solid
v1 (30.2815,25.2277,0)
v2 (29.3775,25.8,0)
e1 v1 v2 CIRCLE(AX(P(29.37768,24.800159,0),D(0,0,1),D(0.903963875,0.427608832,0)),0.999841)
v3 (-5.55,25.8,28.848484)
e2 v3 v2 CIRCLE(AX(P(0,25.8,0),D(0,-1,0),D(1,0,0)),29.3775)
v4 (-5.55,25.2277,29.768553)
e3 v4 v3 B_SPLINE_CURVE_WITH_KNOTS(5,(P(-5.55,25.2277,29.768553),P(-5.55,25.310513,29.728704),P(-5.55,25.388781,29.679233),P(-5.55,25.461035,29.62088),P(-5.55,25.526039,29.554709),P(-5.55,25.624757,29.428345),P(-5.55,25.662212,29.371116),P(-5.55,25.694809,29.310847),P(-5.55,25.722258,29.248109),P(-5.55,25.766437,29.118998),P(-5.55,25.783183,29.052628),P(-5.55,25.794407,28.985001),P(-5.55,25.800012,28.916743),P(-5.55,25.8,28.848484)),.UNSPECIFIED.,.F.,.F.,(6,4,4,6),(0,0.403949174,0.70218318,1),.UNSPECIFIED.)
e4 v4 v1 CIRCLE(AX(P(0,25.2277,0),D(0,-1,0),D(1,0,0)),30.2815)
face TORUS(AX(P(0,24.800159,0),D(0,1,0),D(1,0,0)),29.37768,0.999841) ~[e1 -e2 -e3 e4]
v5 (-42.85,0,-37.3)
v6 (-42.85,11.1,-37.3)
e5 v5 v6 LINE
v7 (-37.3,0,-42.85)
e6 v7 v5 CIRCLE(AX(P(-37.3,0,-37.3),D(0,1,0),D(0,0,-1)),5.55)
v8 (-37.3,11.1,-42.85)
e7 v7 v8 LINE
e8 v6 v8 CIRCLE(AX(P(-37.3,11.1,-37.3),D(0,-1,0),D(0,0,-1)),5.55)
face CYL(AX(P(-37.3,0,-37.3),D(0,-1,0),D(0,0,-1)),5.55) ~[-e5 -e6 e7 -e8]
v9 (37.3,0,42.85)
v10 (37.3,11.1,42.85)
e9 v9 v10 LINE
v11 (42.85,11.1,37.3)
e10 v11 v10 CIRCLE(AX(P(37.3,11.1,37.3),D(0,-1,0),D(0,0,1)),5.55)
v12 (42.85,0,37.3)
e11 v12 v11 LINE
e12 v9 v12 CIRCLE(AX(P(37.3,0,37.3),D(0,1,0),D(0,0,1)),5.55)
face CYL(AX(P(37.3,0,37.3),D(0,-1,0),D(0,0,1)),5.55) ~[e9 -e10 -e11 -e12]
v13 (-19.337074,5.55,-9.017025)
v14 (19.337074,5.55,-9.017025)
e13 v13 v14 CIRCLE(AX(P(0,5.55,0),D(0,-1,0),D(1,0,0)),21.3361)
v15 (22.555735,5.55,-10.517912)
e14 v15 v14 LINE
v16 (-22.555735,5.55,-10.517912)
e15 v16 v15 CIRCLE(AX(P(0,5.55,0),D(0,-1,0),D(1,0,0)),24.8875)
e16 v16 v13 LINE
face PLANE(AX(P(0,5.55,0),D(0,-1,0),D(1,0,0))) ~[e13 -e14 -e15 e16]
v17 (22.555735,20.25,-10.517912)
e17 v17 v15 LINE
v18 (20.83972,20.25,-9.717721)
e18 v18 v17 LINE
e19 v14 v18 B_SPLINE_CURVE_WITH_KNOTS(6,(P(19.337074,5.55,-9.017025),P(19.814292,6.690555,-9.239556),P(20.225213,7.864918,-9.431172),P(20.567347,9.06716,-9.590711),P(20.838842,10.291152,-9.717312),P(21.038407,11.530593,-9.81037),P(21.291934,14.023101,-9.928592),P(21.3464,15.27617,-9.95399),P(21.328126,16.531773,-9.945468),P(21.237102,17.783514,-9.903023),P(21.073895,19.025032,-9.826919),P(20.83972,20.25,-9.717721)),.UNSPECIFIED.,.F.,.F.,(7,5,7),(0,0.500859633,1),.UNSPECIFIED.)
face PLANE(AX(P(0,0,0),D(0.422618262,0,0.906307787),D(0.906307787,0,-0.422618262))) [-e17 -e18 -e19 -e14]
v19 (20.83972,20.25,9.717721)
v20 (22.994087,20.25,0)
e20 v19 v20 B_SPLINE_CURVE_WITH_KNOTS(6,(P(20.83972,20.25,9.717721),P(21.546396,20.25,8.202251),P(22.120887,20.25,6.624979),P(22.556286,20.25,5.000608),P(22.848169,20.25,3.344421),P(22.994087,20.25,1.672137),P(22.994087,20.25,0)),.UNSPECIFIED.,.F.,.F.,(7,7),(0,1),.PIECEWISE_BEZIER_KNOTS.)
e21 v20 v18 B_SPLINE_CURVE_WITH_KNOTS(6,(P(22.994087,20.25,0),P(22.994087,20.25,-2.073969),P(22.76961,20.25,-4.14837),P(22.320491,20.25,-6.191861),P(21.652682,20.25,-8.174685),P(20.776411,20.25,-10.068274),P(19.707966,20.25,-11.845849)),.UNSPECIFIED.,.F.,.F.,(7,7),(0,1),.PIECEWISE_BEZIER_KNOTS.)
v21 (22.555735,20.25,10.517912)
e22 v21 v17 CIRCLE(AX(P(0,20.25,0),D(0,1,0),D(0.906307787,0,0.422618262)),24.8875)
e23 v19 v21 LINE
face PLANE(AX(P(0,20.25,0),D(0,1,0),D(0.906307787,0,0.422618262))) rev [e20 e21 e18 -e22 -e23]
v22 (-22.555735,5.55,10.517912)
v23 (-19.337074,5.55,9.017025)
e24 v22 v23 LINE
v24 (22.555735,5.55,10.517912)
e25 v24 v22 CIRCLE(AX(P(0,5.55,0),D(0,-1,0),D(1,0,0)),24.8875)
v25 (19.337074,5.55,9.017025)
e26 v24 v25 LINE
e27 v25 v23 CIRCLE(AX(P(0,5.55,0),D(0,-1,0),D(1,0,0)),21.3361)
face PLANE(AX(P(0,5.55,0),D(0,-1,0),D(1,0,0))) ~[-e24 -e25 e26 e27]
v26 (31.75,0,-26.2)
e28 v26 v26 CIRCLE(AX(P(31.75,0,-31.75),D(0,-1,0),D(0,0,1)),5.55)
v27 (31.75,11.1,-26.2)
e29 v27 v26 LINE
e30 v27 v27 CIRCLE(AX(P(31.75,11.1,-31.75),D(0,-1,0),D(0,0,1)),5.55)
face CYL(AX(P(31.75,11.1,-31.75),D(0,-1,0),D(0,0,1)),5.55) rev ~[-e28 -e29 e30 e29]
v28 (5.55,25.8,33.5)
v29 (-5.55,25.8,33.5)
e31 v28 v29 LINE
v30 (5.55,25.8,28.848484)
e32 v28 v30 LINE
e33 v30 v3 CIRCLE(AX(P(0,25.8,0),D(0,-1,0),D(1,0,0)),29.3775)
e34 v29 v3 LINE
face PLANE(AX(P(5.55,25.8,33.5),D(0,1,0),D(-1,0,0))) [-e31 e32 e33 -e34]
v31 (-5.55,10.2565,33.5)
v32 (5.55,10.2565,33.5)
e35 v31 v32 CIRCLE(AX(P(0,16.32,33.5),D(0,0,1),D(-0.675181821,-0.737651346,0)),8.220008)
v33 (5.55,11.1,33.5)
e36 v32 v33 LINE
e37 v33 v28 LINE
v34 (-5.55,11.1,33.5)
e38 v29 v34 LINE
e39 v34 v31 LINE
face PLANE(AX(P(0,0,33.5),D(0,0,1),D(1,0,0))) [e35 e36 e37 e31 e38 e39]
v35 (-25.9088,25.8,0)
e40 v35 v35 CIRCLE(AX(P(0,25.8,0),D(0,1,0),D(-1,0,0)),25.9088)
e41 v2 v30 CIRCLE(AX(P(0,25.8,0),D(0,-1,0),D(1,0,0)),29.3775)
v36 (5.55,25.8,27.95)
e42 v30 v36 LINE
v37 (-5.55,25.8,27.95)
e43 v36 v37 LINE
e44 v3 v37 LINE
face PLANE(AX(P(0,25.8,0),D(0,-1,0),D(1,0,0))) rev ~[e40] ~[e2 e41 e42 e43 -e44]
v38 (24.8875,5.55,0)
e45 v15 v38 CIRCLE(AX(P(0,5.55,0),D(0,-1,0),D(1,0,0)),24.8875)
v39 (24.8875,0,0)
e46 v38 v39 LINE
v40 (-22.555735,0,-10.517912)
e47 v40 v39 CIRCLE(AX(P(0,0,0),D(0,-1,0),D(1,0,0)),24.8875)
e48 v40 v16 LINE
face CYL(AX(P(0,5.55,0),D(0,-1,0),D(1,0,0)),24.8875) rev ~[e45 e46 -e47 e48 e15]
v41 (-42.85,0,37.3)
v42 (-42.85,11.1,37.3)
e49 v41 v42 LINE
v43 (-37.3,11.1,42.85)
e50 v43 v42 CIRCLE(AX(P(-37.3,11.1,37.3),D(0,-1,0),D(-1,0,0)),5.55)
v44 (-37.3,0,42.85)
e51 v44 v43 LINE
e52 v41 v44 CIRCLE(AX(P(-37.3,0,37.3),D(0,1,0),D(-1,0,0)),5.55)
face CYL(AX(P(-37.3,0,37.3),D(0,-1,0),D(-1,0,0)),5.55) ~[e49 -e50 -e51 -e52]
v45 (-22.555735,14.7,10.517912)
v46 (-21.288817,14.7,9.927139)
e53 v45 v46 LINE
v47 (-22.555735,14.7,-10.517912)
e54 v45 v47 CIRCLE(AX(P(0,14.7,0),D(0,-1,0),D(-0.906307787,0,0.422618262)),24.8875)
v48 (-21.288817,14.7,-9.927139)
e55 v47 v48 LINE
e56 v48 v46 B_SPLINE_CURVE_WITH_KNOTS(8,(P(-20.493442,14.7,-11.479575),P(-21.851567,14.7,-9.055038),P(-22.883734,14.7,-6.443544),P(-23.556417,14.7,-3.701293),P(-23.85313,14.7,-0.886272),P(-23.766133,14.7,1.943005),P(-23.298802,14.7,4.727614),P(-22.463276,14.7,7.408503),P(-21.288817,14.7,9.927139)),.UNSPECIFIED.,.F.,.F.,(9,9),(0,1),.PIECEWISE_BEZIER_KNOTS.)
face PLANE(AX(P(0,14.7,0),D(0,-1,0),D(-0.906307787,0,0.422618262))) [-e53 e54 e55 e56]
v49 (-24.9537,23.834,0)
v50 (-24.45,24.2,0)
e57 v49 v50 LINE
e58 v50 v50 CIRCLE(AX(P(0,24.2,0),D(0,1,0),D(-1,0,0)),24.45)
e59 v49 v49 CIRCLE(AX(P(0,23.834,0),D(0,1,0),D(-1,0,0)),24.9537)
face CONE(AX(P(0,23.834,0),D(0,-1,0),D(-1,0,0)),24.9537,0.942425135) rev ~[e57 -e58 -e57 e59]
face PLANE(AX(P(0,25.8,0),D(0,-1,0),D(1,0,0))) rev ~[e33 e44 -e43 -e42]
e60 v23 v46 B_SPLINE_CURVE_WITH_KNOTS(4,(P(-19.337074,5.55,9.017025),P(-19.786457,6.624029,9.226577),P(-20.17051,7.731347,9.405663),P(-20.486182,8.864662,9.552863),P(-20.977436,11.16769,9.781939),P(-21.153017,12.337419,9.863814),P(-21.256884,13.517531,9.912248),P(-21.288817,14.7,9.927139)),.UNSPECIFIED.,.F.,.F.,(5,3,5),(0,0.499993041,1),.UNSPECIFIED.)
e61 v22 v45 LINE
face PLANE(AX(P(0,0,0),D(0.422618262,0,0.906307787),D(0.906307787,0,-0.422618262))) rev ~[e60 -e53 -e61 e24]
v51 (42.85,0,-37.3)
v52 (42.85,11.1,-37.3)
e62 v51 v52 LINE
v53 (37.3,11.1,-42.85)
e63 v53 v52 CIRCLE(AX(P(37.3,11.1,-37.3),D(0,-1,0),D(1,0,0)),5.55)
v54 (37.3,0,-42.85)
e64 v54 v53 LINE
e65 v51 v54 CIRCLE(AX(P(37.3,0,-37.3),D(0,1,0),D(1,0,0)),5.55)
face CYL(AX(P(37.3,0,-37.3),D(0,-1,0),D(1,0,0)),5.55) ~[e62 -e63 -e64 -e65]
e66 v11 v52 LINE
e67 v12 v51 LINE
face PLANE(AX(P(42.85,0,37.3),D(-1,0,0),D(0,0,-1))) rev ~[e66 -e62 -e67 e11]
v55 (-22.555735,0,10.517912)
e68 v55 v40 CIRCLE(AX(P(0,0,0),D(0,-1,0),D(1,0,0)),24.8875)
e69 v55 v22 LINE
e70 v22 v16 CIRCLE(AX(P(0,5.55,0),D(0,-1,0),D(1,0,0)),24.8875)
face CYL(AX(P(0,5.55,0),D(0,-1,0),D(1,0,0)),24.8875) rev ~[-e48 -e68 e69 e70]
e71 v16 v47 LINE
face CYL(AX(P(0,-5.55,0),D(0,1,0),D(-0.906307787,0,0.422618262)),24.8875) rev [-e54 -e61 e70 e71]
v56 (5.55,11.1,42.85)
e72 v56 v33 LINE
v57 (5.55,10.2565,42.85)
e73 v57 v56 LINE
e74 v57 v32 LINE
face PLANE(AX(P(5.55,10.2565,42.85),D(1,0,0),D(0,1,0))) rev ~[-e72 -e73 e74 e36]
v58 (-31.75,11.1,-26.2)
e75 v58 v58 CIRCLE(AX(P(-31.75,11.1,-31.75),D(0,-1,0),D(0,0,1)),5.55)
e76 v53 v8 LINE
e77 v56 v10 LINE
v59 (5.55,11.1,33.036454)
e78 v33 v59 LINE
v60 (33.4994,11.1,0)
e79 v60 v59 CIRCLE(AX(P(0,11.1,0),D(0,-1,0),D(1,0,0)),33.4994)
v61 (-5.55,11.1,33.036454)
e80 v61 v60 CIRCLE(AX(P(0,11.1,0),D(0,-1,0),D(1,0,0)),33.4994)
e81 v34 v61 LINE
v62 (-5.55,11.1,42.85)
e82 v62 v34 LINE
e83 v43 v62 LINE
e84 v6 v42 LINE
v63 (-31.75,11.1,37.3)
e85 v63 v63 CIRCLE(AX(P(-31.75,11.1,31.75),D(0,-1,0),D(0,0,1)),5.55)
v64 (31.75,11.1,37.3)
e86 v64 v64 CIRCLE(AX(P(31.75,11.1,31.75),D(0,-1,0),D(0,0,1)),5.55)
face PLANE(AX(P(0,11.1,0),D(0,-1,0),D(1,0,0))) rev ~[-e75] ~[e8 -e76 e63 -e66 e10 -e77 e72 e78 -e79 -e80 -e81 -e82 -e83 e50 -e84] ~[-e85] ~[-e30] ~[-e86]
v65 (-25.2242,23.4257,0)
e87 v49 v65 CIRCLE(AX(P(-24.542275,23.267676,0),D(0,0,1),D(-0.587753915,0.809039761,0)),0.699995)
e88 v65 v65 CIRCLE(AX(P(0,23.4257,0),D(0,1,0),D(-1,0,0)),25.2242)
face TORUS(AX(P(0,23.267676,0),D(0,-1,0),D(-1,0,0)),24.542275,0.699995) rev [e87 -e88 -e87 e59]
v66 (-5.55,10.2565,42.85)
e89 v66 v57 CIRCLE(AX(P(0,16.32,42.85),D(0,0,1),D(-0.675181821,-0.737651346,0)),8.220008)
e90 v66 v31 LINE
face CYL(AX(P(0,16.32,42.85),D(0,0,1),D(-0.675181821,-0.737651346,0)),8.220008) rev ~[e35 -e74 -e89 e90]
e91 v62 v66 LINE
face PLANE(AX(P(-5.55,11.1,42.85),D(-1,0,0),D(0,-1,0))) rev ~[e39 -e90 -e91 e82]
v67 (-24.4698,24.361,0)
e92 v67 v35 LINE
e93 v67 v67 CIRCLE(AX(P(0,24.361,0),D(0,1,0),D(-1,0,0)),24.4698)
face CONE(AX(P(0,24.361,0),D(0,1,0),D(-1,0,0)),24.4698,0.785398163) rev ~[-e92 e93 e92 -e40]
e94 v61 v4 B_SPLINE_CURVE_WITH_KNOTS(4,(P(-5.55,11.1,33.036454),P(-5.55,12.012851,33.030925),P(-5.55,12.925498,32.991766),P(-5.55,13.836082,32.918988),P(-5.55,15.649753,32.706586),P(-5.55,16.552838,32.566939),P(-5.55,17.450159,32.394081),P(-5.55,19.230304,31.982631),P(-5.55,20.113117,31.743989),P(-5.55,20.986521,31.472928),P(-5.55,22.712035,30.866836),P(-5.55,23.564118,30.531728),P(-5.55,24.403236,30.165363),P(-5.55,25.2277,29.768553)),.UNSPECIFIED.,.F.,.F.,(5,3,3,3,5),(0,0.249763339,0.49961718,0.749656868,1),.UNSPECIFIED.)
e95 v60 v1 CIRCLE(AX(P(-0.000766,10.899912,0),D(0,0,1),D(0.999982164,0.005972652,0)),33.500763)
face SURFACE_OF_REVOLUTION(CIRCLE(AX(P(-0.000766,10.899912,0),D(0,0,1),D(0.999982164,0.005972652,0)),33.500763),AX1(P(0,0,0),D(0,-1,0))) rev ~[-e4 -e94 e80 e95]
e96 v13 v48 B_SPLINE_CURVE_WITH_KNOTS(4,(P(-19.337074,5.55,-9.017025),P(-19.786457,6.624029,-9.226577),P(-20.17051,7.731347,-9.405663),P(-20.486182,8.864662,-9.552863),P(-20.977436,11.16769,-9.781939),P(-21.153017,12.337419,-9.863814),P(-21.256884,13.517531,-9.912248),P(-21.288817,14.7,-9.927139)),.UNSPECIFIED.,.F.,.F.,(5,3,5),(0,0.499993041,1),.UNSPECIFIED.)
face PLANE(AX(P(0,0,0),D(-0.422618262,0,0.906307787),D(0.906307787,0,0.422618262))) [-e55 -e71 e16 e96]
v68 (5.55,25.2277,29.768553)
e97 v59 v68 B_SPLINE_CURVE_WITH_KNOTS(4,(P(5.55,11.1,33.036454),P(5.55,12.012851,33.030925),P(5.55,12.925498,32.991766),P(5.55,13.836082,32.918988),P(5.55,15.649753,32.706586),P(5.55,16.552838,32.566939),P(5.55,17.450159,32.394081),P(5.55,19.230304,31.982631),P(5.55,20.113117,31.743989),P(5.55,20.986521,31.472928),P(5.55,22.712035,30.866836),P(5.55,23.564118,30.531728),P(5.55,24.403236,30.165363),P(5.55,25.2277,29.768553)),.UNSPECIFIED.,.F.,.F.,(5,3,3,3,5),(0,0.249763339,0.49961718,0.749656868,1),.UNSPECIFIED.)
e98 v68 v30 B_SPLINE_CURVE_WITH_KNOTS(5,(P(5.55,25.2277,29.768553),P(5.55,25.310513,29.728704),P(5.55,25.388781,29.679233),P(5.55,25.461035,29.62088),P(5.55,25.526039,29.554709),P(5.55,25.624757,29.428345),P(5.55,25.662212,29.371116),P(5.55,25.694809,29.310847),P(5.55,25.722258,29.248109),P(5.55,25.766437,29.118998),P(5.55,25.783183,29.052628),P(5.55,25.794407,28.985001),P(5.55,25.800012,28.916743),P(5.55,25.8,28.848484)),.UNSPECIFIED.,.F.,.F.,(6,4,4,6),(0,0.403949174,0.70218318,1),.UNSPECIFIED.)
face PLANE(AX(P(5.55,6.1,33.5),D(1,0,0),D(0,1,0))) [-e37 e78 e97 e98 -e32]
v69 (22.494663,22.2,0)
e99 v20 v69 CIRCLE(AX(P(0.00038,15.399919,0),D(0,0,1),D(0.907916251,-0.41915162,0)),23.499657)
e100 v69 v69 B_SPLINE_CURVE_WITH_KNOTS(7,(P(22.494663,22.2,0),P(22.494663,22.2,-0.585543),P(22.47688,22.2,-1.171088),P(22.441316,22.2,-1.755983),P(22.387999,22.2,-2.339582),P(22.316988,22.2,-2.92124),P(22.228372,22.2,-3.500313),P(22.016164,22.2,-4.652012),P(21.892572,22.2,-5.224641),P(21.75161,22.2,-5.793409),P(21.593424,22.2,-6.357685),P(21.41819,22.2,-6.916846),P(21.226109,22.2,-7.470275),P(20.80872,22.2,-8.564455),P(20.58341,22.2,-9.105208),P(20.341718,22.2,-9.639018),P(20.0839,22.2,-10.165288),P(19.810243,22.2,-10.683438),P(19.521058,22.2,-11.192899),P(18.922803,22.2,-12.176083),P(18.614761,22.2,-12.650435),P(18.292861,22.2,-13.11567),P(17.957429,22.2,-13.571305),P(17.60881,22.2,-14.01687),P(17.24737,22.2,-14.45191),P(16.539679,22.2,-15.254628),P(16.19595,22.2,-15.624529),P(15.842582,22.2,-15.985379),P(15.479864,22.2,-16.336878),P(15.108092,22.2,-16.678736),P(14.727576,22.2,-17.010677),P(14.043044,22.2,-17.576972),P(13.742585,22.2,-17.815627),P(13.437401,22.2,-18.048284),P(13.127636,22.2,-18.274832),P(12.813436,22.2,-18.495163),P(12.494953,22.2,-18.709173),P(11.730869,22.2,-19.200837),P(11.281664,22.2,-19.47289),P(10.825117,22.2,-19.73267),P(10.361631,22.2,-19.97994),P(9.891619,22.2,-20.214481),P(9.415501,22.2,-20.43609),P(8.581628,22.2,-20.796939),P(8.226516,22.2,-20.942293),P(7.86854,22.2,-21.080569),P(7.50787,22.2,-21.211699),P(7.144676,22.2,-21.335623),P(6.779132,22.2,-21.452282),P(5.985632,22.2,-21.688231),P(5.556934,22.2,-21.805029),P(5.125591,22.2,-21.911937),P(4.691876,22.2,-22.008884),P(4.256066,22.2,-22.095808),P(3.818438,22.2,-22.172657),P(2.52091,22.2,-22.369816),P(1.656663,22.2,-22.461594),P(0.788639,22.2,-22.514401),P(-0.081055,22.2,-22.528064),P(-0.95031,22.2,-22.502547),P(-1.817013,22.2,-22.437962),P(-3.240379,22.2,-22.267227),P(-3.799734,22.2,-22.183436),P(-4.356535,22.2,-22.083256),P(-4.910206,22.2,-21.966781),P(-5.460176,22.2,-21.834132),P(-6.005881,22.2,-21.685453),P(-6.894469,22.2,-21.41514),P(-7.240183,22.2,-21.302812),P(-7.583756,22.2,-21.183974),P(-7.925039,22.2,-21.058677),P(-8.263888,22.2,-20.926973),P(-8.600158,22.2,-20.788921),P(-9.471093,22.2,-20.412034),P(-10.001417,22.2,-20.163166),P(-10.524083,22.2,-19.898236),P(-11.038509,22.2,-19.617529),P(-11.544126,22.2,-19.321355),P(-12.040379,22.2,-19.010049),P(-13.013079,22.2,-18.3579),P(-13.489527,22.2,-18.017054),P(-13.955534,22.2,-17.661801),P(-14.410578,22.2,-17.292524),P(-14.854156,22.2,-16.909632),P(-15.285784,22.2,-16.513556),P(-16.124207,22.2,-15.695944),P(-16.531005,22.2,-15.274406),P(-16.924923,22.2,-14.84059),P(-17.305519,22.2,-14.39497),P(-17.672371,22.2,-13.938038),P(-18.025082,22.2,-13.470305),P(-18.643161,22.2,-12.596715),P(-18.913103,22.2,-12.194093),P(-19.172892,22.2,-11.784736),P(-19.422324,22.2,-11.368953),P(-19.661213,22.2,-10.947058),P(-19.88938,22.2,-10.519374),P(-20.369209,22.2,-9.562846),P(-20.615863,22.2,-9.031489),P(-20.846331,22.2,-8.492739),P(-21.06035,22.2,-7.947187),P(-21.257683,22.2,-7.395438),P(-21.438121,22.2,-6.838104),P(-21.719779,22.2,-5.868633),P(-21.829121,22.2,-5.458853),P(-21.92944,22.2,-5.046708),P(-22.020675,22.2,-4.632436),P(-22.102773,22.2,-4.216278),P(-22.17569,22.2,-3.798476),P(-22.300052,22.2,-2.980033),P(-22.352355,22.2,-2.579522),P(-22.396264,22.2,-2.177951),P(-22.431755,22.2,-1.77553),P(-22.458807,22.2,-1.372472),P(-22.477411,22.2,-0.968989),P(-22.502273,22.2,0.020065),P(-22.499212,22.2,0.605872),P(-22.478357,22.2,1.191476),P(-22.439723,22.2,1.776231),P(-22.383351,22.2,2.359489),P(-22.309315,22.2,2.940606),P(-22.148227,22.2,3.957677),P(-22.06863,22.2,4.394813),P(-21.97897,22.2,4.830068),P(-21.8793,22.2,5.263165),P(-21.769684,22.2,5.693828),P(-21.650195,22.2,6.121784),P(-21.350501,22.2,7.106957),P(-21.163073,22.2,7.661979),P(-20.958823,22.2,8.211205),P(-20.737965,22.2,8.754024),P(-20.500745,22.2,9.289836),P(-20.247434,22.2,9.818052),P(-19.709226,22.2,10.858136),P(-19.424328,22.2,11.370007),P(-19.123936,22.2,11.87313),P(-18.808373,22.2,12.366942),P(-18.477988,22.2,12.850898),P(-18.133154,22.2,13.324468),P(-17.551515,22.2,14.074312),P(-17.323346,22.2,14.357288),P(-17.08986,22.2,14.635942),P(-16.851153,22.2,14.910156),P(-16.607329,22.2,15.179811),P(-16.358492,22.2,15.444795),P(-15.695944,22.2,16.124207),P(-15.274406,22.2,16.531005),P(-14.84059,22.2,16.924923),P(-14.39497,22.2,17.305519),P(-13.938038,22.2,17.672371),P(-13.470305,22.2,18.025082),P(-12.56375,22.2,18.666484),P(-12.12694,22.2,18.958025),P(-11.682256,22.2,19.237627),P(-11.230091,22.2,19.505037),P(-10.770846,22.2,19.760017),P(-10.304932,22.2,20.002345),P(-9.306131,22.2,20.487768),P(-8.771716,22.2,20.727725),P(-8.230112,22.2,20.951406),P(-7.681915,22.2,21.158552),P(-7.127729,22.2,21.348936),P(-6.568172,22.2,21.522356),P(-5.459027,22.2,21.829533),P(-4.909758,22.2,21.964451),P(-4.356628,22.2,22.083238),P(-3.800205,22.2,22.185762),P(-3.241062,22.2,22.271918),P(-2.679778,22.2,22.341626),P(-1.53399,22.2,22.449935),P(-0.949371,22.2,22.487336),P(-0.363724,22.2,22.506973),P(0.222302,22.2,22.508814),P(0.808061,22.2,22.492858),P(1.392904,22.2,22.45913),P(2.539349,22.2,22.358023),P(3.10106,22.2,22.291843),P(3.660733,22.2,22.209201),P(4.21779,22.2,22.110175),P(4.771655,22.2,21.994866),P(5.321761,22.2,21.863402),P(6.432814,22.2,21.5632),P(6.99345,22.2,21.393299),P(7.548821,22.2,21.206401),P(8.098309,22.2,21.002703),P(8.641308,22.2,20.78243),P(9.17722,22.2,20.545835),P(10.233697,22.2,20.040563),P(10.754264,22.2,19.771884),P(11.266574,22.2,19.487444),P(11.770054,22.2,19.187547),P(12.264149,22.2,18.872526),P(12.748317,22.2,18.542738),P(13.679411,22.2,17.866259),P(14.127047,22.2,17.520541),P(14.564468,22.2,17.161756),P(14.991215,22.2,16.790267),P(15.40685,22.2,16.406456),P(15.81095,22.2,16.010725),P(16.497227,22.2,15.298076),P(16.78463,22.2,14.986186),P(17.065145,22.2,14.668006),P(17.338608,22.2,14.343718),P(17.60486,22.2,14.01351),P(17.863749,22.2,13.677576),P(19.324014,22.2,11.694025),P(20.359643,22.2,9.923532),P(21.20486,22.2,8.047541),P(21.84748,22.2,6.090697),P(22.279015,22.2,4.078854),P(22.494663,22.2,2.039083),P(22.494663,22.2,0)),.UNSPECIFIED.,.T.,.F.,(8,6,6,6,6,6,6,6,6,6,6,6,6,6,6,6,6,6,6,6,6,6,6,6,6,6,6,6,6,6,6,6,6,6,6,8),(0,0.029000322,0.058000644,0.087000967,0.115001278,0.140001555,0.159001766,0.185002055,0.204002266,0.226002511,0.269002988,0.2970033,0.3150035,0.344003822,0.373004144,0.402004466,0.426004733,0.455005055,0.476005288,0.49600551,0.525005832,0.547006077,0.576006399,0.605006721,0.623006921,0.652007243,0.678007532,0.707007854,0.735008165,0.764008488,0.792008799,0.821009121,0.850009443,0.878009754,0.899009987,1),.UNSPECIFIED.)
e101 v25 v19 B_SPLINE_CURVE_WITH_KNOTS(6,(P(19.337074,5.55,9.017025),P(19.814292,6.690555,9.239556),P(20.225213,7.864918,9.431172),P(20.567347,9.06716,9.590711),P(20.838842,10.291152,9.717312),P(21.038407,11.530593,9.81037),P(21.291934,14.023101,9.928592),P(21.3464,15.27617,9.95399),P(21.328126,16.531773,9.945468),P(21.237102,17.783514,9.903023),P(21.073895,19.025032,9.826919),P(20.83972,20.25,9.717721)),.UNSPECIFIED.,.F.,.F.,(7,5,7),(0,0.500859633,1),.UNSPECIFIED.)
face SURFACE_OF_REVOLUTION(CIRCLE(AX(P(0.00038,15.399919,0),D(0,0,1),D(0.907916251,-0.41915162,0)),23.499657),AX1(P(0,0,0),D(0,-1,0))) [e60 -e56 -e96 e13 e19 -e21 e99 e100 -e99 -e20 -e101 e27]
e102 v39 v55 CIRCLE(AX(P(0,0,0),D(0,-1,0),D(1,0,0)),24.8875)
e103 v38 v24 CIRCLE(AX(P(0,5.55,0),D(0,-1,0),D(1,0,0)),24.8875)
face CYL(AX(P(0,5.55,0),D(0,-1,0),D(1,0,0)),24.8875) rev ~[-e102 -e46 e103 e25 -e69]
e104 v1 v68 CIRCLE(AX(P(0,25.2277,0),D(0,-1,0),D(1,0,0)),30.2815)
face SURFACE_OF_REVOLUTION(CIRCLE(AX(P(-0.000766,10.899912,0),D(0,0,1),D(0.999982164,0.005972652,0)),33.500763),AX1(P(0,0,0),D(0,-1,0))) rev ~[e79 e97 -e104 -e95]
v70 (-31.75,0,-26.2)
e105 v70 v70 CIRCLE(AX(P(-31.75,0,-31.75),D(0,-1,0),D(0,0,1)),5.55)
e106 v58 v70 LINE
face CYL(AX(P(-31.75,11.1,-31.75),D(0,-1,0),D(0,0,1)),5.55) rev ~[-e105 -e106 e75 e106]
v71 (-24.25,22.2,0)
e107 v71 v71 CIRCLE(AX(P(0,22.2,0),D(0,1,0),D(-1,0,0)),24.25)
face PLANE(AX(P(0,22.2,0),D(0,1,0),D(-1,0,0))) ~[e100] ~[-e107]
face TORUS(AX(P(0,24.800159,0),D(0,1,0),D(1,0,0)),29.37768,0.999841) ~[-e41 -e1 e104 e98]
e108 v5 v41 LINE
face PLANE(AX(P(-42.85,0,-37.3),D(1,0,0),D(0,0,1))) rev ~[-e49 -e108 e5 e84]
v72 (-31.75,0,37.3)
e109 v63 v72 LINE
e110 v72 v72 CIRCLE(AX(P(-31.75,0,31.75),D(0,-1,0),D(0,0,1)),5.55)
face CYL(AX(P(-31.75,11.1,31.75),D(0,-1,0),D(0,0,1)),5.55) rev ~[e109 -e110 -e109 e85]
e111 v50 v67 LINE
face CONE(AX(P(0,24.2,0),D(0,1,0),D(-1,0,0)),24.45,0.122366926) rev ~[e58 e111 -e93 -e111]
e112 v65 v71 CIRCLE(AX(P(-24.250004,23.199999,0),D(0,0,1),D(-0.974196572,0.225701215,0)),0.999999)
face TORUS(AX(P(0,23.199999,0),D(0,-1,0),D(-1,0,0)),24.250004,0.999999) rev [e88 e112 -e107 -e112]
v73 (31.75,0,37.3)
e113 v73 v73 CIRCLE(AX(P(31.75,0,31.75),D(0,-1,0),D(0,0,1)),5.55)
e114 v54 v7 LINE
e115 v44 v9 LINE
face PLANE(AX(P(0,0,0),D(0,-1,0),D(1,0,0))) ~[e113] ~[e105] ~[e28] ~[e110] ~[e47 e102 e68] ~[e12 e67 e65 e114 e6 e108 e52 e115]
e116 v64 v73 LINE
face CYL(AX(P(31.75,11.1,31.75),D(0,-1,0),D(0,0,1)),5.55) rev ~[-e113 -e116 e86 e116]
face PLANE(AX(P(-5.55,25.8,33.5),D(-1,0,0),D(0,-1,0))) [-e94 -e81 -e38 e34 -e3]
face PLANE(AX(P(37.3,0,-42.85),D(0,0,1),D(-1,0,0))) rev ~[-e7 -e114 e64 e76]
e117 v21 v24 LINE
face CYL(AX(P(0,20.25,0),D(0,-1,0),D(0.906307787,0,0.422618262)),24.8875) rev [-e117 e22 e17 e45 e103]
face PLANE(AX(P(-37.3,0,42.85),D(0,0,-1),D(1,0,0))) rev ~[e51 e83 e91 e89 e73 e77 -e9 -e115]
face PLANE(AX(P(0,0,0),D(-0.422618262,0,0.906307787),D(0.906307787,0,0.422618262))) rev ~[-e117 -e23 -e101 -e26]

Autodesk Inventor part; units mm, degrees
sketch "Sketch_1" plane through (0, 0, 0) normal (0, 0, 1) x (1, 0, 0)
  line L0 (0, 0) -> (0, 25.8)
  arc A0 (21.3361, 5.55) -> (21.0734, 25.8) centre (0, 15.4) ccw
  line L1 (21.3361, 5.55) -> (24.8875, 5.55)
  line L2 (24.8875, 5.55) -> (24.8875, 0)
  line L3 (24.8875, 0) -> (85.7, 0)
  line L4 (85.7, 0) -> (85.7, 9.1)
  arc A1 (85.7, 9.1) -> (83.7, 11.1) centre (83.7, 9.1) ccw
  line L5 (83.7, 11.1) -> (33.4994, 11.1)
  arc A2 (33.4994, 11.1) -> (30.2815, 25.2277) centre (0, 10.9) ccw
  arc A3 (30.2815, 25.2277) -> (29.3775, 25.8) centre (29.3775, 24.8) ccw
  line L6 (29.3775, 25.8) -> (21.0734, 25.8)
revolve "Revolution1" add sketch "Sketch_1" angle 360 about axis through (0, 0, 0) along (0, -1, 0)
sketch "Sketch_6" plane through (0, 0, 0) normal (0, 1, 0) x (-1, 0, 0)
  circle A0 centre (0, 0) radius 87.7
  arc A1 (42.85, 37.3) -> (37.3, 42.85) centre (37.3, 37.3) ccw
  line L0 (37.3, 42.85) -> (-37.3, 42.85)
  arc A2 (-37.3, 42.85) -> (-42.85, 37.3) centre (-37.3, 37.3) ccw
  line L1 (-42.85, 37.3) -> (-42.85, -37.3)
  arc A3 (-42.85, -37.3) -> (-37.3, -42.85) centre (-37.3, -37.3) ccw
  line L2 (-37.3, -42.85) -> (37.3, -42.85)
  arc A4 (37.3, -42.85) -> (42.85, -37.3) centre (37.3, -37.3) ccw
  line L3 (42.85, -37.3) -> (42.85, 37.3)
extrude "Extrusion1" cut sketch "Sketch_6" along normal blind 25.8
sketch "Sketch_7" plane through (0, 0, 42.85) normal (0, 0, 1) x (1, 0, 0)
  arc A0 (-5.55, 10.2565) -> (5.55, 10.2565) centre (0, 16.32) ccw
  line L0 (5.55, 10.2565) -> (5.55, 11.1)
  line L1 (5.55, 11.1) -> (-5.55, 11.1)
  line L2 (-5.55, 11.1) -> (-5.55, 10.2565)
extrude "Extrusion2" cut sketch "Sketch_7" against normal blind 12.85
sketch "Sketch_4" plane through (0, 0, 0) normal (0, 0, 1) x (1, 0, 0)
  line L0 (0, 5.55) -> (0, 20.25)
  line L1 (0, 20.25) -> (24.8875, 20.25)
  line L2 (24.8875, 20.25) -> (24.8875, 5.55)
  line L3 (24.8875, 5.55) -> (0, 5.55)
  line L4 (0, 5.55) -> (0, 20.25)
revolve "Revolution2" cut sketch "Sketch_4" angle 50 mid plane about axis through (0, 5.55, 0) along (0, 1, 0)
sketch "Sketch_5" plane through (0, 0, 0) normal (0, 0, 1) x (1, 0, 0)
  line L0 (0, 14.7) -> (0, -5.55)
  line L1 (0, -5.55) -> (-24.8875, -5.55)
  line L2 (-24.8875, -5.55) -> (-24.8875, 14.7)
  line L3 (-24.8875, 14.7) -> (0, 14.7)
  line L4 (0, 14.7) -> (0, -5.55)
revolve "Revolution3" cut sketch "Sketch_5" angle 50 mid plane about axis through (0, 14.7, 0) along (0, -1, 0)
sketch "Sketch6" plane through (-37.3, 11.1, -42.85) normal (0, 1, 0) x (1, 0, 0)
  point P0 (5.55, -11.1)
hole "Hole1" at (-31.75, 11.1, -31.75) direction (0, -1, 0) diameter 11.1 depth 11.1
pattern_linear "Rectangular Pattern1" count 2 spacing 63.5 along (1, 0, 0) count 2 spacing 63.5 along (0, 0, 1) of "Hole1"
sketch "Sketch_9" plane through (0, 0, 0) normal (0, 0, 1) x (1, 0, 0)
  line L0 (0, 25.8) -> (0, 22.2)
  line L1 (0, 22.2) -> (-24.25, 22.2)
  arc A0 (-25.2242, 23.4257) -> (-24.25, 22.2) centre (-24.25, 23.2) ccw
  arc A1 (-24.9537, 23.834) -> (-25.2242, 23.4257) centre (-24.5423, 23.2677) ccw
  line L2 (-24.9537, 23.834) -> (-24.45, 24.2)
  line L3 (-24.45, 24.2) -> (-24.4698, 24.361)
  line L4 (-24.4698, 24.361) -> (-25.9088, 25.8)
  line L5 (-25.9088, 25.8) -> (0, 25.8)
  line L6 (0, 25.8) -> (0, 22.2)
revolve "Revolution4" cut sketch "Sketch_9" angle 360 about axis through (0, 25.8, 0) along (0, 1, 0)
sketch "Sketch_10" plane through (0, 0, 33.5) normal (0, 0, 1) x (1, 0, 0)
  line L0 (-5.55, 25.8) -> (-5.55, 6.1)
  line L1 (-5.55, 6.1) -> (5.55, 6.1)
  line L2 (5.55, 6.1) -> (5.55, 25.8)
  line L3 (5.55, 25.8) -> (-5.55, 25.8)
extrude "Extrusion3" add sketch "Sketch_10" against normal blind 5.55
ref_plane "brg_XY" through (0, 12.9, 0) normal (0, 1, 0) x (1, 0, 0)
ref_plane "brg_YZ" through (0, 12.9, 0) normal (1, 0, 0) x (0, 0, -1)
ref_plane "brg_ZX" through (0, 12.9, 0) normal (0, 0, -1) x (0, 1, 0)
ref_plane "housing_XY" through (0, 0, 0) normal (0, 1, 0) x (1, 0, 0)
ref_plane "housing_YZ" through (0, 0, 0) normal (1, 0, 0) x (0, 0, -1)
ref_plane "housing_ZX" through (0, 0, 0) normal (0, 0, -1) x (0, 1, 0)
ref_plane "tocover_XY" through (0, 51.2, 0) normal (0, 1, 0) x (1, 0, 0)
ref_plane "tocover_YZ" through (0, 51.2, 0) normal (1, 0, 0) x (0, 0, -1)
ref_plane "tocover_ZX" through (0, 51.2, 0) normal (0, 0, -1) x (0, 1, 0)
properties part number "F4BSS 504-Y-housing"
